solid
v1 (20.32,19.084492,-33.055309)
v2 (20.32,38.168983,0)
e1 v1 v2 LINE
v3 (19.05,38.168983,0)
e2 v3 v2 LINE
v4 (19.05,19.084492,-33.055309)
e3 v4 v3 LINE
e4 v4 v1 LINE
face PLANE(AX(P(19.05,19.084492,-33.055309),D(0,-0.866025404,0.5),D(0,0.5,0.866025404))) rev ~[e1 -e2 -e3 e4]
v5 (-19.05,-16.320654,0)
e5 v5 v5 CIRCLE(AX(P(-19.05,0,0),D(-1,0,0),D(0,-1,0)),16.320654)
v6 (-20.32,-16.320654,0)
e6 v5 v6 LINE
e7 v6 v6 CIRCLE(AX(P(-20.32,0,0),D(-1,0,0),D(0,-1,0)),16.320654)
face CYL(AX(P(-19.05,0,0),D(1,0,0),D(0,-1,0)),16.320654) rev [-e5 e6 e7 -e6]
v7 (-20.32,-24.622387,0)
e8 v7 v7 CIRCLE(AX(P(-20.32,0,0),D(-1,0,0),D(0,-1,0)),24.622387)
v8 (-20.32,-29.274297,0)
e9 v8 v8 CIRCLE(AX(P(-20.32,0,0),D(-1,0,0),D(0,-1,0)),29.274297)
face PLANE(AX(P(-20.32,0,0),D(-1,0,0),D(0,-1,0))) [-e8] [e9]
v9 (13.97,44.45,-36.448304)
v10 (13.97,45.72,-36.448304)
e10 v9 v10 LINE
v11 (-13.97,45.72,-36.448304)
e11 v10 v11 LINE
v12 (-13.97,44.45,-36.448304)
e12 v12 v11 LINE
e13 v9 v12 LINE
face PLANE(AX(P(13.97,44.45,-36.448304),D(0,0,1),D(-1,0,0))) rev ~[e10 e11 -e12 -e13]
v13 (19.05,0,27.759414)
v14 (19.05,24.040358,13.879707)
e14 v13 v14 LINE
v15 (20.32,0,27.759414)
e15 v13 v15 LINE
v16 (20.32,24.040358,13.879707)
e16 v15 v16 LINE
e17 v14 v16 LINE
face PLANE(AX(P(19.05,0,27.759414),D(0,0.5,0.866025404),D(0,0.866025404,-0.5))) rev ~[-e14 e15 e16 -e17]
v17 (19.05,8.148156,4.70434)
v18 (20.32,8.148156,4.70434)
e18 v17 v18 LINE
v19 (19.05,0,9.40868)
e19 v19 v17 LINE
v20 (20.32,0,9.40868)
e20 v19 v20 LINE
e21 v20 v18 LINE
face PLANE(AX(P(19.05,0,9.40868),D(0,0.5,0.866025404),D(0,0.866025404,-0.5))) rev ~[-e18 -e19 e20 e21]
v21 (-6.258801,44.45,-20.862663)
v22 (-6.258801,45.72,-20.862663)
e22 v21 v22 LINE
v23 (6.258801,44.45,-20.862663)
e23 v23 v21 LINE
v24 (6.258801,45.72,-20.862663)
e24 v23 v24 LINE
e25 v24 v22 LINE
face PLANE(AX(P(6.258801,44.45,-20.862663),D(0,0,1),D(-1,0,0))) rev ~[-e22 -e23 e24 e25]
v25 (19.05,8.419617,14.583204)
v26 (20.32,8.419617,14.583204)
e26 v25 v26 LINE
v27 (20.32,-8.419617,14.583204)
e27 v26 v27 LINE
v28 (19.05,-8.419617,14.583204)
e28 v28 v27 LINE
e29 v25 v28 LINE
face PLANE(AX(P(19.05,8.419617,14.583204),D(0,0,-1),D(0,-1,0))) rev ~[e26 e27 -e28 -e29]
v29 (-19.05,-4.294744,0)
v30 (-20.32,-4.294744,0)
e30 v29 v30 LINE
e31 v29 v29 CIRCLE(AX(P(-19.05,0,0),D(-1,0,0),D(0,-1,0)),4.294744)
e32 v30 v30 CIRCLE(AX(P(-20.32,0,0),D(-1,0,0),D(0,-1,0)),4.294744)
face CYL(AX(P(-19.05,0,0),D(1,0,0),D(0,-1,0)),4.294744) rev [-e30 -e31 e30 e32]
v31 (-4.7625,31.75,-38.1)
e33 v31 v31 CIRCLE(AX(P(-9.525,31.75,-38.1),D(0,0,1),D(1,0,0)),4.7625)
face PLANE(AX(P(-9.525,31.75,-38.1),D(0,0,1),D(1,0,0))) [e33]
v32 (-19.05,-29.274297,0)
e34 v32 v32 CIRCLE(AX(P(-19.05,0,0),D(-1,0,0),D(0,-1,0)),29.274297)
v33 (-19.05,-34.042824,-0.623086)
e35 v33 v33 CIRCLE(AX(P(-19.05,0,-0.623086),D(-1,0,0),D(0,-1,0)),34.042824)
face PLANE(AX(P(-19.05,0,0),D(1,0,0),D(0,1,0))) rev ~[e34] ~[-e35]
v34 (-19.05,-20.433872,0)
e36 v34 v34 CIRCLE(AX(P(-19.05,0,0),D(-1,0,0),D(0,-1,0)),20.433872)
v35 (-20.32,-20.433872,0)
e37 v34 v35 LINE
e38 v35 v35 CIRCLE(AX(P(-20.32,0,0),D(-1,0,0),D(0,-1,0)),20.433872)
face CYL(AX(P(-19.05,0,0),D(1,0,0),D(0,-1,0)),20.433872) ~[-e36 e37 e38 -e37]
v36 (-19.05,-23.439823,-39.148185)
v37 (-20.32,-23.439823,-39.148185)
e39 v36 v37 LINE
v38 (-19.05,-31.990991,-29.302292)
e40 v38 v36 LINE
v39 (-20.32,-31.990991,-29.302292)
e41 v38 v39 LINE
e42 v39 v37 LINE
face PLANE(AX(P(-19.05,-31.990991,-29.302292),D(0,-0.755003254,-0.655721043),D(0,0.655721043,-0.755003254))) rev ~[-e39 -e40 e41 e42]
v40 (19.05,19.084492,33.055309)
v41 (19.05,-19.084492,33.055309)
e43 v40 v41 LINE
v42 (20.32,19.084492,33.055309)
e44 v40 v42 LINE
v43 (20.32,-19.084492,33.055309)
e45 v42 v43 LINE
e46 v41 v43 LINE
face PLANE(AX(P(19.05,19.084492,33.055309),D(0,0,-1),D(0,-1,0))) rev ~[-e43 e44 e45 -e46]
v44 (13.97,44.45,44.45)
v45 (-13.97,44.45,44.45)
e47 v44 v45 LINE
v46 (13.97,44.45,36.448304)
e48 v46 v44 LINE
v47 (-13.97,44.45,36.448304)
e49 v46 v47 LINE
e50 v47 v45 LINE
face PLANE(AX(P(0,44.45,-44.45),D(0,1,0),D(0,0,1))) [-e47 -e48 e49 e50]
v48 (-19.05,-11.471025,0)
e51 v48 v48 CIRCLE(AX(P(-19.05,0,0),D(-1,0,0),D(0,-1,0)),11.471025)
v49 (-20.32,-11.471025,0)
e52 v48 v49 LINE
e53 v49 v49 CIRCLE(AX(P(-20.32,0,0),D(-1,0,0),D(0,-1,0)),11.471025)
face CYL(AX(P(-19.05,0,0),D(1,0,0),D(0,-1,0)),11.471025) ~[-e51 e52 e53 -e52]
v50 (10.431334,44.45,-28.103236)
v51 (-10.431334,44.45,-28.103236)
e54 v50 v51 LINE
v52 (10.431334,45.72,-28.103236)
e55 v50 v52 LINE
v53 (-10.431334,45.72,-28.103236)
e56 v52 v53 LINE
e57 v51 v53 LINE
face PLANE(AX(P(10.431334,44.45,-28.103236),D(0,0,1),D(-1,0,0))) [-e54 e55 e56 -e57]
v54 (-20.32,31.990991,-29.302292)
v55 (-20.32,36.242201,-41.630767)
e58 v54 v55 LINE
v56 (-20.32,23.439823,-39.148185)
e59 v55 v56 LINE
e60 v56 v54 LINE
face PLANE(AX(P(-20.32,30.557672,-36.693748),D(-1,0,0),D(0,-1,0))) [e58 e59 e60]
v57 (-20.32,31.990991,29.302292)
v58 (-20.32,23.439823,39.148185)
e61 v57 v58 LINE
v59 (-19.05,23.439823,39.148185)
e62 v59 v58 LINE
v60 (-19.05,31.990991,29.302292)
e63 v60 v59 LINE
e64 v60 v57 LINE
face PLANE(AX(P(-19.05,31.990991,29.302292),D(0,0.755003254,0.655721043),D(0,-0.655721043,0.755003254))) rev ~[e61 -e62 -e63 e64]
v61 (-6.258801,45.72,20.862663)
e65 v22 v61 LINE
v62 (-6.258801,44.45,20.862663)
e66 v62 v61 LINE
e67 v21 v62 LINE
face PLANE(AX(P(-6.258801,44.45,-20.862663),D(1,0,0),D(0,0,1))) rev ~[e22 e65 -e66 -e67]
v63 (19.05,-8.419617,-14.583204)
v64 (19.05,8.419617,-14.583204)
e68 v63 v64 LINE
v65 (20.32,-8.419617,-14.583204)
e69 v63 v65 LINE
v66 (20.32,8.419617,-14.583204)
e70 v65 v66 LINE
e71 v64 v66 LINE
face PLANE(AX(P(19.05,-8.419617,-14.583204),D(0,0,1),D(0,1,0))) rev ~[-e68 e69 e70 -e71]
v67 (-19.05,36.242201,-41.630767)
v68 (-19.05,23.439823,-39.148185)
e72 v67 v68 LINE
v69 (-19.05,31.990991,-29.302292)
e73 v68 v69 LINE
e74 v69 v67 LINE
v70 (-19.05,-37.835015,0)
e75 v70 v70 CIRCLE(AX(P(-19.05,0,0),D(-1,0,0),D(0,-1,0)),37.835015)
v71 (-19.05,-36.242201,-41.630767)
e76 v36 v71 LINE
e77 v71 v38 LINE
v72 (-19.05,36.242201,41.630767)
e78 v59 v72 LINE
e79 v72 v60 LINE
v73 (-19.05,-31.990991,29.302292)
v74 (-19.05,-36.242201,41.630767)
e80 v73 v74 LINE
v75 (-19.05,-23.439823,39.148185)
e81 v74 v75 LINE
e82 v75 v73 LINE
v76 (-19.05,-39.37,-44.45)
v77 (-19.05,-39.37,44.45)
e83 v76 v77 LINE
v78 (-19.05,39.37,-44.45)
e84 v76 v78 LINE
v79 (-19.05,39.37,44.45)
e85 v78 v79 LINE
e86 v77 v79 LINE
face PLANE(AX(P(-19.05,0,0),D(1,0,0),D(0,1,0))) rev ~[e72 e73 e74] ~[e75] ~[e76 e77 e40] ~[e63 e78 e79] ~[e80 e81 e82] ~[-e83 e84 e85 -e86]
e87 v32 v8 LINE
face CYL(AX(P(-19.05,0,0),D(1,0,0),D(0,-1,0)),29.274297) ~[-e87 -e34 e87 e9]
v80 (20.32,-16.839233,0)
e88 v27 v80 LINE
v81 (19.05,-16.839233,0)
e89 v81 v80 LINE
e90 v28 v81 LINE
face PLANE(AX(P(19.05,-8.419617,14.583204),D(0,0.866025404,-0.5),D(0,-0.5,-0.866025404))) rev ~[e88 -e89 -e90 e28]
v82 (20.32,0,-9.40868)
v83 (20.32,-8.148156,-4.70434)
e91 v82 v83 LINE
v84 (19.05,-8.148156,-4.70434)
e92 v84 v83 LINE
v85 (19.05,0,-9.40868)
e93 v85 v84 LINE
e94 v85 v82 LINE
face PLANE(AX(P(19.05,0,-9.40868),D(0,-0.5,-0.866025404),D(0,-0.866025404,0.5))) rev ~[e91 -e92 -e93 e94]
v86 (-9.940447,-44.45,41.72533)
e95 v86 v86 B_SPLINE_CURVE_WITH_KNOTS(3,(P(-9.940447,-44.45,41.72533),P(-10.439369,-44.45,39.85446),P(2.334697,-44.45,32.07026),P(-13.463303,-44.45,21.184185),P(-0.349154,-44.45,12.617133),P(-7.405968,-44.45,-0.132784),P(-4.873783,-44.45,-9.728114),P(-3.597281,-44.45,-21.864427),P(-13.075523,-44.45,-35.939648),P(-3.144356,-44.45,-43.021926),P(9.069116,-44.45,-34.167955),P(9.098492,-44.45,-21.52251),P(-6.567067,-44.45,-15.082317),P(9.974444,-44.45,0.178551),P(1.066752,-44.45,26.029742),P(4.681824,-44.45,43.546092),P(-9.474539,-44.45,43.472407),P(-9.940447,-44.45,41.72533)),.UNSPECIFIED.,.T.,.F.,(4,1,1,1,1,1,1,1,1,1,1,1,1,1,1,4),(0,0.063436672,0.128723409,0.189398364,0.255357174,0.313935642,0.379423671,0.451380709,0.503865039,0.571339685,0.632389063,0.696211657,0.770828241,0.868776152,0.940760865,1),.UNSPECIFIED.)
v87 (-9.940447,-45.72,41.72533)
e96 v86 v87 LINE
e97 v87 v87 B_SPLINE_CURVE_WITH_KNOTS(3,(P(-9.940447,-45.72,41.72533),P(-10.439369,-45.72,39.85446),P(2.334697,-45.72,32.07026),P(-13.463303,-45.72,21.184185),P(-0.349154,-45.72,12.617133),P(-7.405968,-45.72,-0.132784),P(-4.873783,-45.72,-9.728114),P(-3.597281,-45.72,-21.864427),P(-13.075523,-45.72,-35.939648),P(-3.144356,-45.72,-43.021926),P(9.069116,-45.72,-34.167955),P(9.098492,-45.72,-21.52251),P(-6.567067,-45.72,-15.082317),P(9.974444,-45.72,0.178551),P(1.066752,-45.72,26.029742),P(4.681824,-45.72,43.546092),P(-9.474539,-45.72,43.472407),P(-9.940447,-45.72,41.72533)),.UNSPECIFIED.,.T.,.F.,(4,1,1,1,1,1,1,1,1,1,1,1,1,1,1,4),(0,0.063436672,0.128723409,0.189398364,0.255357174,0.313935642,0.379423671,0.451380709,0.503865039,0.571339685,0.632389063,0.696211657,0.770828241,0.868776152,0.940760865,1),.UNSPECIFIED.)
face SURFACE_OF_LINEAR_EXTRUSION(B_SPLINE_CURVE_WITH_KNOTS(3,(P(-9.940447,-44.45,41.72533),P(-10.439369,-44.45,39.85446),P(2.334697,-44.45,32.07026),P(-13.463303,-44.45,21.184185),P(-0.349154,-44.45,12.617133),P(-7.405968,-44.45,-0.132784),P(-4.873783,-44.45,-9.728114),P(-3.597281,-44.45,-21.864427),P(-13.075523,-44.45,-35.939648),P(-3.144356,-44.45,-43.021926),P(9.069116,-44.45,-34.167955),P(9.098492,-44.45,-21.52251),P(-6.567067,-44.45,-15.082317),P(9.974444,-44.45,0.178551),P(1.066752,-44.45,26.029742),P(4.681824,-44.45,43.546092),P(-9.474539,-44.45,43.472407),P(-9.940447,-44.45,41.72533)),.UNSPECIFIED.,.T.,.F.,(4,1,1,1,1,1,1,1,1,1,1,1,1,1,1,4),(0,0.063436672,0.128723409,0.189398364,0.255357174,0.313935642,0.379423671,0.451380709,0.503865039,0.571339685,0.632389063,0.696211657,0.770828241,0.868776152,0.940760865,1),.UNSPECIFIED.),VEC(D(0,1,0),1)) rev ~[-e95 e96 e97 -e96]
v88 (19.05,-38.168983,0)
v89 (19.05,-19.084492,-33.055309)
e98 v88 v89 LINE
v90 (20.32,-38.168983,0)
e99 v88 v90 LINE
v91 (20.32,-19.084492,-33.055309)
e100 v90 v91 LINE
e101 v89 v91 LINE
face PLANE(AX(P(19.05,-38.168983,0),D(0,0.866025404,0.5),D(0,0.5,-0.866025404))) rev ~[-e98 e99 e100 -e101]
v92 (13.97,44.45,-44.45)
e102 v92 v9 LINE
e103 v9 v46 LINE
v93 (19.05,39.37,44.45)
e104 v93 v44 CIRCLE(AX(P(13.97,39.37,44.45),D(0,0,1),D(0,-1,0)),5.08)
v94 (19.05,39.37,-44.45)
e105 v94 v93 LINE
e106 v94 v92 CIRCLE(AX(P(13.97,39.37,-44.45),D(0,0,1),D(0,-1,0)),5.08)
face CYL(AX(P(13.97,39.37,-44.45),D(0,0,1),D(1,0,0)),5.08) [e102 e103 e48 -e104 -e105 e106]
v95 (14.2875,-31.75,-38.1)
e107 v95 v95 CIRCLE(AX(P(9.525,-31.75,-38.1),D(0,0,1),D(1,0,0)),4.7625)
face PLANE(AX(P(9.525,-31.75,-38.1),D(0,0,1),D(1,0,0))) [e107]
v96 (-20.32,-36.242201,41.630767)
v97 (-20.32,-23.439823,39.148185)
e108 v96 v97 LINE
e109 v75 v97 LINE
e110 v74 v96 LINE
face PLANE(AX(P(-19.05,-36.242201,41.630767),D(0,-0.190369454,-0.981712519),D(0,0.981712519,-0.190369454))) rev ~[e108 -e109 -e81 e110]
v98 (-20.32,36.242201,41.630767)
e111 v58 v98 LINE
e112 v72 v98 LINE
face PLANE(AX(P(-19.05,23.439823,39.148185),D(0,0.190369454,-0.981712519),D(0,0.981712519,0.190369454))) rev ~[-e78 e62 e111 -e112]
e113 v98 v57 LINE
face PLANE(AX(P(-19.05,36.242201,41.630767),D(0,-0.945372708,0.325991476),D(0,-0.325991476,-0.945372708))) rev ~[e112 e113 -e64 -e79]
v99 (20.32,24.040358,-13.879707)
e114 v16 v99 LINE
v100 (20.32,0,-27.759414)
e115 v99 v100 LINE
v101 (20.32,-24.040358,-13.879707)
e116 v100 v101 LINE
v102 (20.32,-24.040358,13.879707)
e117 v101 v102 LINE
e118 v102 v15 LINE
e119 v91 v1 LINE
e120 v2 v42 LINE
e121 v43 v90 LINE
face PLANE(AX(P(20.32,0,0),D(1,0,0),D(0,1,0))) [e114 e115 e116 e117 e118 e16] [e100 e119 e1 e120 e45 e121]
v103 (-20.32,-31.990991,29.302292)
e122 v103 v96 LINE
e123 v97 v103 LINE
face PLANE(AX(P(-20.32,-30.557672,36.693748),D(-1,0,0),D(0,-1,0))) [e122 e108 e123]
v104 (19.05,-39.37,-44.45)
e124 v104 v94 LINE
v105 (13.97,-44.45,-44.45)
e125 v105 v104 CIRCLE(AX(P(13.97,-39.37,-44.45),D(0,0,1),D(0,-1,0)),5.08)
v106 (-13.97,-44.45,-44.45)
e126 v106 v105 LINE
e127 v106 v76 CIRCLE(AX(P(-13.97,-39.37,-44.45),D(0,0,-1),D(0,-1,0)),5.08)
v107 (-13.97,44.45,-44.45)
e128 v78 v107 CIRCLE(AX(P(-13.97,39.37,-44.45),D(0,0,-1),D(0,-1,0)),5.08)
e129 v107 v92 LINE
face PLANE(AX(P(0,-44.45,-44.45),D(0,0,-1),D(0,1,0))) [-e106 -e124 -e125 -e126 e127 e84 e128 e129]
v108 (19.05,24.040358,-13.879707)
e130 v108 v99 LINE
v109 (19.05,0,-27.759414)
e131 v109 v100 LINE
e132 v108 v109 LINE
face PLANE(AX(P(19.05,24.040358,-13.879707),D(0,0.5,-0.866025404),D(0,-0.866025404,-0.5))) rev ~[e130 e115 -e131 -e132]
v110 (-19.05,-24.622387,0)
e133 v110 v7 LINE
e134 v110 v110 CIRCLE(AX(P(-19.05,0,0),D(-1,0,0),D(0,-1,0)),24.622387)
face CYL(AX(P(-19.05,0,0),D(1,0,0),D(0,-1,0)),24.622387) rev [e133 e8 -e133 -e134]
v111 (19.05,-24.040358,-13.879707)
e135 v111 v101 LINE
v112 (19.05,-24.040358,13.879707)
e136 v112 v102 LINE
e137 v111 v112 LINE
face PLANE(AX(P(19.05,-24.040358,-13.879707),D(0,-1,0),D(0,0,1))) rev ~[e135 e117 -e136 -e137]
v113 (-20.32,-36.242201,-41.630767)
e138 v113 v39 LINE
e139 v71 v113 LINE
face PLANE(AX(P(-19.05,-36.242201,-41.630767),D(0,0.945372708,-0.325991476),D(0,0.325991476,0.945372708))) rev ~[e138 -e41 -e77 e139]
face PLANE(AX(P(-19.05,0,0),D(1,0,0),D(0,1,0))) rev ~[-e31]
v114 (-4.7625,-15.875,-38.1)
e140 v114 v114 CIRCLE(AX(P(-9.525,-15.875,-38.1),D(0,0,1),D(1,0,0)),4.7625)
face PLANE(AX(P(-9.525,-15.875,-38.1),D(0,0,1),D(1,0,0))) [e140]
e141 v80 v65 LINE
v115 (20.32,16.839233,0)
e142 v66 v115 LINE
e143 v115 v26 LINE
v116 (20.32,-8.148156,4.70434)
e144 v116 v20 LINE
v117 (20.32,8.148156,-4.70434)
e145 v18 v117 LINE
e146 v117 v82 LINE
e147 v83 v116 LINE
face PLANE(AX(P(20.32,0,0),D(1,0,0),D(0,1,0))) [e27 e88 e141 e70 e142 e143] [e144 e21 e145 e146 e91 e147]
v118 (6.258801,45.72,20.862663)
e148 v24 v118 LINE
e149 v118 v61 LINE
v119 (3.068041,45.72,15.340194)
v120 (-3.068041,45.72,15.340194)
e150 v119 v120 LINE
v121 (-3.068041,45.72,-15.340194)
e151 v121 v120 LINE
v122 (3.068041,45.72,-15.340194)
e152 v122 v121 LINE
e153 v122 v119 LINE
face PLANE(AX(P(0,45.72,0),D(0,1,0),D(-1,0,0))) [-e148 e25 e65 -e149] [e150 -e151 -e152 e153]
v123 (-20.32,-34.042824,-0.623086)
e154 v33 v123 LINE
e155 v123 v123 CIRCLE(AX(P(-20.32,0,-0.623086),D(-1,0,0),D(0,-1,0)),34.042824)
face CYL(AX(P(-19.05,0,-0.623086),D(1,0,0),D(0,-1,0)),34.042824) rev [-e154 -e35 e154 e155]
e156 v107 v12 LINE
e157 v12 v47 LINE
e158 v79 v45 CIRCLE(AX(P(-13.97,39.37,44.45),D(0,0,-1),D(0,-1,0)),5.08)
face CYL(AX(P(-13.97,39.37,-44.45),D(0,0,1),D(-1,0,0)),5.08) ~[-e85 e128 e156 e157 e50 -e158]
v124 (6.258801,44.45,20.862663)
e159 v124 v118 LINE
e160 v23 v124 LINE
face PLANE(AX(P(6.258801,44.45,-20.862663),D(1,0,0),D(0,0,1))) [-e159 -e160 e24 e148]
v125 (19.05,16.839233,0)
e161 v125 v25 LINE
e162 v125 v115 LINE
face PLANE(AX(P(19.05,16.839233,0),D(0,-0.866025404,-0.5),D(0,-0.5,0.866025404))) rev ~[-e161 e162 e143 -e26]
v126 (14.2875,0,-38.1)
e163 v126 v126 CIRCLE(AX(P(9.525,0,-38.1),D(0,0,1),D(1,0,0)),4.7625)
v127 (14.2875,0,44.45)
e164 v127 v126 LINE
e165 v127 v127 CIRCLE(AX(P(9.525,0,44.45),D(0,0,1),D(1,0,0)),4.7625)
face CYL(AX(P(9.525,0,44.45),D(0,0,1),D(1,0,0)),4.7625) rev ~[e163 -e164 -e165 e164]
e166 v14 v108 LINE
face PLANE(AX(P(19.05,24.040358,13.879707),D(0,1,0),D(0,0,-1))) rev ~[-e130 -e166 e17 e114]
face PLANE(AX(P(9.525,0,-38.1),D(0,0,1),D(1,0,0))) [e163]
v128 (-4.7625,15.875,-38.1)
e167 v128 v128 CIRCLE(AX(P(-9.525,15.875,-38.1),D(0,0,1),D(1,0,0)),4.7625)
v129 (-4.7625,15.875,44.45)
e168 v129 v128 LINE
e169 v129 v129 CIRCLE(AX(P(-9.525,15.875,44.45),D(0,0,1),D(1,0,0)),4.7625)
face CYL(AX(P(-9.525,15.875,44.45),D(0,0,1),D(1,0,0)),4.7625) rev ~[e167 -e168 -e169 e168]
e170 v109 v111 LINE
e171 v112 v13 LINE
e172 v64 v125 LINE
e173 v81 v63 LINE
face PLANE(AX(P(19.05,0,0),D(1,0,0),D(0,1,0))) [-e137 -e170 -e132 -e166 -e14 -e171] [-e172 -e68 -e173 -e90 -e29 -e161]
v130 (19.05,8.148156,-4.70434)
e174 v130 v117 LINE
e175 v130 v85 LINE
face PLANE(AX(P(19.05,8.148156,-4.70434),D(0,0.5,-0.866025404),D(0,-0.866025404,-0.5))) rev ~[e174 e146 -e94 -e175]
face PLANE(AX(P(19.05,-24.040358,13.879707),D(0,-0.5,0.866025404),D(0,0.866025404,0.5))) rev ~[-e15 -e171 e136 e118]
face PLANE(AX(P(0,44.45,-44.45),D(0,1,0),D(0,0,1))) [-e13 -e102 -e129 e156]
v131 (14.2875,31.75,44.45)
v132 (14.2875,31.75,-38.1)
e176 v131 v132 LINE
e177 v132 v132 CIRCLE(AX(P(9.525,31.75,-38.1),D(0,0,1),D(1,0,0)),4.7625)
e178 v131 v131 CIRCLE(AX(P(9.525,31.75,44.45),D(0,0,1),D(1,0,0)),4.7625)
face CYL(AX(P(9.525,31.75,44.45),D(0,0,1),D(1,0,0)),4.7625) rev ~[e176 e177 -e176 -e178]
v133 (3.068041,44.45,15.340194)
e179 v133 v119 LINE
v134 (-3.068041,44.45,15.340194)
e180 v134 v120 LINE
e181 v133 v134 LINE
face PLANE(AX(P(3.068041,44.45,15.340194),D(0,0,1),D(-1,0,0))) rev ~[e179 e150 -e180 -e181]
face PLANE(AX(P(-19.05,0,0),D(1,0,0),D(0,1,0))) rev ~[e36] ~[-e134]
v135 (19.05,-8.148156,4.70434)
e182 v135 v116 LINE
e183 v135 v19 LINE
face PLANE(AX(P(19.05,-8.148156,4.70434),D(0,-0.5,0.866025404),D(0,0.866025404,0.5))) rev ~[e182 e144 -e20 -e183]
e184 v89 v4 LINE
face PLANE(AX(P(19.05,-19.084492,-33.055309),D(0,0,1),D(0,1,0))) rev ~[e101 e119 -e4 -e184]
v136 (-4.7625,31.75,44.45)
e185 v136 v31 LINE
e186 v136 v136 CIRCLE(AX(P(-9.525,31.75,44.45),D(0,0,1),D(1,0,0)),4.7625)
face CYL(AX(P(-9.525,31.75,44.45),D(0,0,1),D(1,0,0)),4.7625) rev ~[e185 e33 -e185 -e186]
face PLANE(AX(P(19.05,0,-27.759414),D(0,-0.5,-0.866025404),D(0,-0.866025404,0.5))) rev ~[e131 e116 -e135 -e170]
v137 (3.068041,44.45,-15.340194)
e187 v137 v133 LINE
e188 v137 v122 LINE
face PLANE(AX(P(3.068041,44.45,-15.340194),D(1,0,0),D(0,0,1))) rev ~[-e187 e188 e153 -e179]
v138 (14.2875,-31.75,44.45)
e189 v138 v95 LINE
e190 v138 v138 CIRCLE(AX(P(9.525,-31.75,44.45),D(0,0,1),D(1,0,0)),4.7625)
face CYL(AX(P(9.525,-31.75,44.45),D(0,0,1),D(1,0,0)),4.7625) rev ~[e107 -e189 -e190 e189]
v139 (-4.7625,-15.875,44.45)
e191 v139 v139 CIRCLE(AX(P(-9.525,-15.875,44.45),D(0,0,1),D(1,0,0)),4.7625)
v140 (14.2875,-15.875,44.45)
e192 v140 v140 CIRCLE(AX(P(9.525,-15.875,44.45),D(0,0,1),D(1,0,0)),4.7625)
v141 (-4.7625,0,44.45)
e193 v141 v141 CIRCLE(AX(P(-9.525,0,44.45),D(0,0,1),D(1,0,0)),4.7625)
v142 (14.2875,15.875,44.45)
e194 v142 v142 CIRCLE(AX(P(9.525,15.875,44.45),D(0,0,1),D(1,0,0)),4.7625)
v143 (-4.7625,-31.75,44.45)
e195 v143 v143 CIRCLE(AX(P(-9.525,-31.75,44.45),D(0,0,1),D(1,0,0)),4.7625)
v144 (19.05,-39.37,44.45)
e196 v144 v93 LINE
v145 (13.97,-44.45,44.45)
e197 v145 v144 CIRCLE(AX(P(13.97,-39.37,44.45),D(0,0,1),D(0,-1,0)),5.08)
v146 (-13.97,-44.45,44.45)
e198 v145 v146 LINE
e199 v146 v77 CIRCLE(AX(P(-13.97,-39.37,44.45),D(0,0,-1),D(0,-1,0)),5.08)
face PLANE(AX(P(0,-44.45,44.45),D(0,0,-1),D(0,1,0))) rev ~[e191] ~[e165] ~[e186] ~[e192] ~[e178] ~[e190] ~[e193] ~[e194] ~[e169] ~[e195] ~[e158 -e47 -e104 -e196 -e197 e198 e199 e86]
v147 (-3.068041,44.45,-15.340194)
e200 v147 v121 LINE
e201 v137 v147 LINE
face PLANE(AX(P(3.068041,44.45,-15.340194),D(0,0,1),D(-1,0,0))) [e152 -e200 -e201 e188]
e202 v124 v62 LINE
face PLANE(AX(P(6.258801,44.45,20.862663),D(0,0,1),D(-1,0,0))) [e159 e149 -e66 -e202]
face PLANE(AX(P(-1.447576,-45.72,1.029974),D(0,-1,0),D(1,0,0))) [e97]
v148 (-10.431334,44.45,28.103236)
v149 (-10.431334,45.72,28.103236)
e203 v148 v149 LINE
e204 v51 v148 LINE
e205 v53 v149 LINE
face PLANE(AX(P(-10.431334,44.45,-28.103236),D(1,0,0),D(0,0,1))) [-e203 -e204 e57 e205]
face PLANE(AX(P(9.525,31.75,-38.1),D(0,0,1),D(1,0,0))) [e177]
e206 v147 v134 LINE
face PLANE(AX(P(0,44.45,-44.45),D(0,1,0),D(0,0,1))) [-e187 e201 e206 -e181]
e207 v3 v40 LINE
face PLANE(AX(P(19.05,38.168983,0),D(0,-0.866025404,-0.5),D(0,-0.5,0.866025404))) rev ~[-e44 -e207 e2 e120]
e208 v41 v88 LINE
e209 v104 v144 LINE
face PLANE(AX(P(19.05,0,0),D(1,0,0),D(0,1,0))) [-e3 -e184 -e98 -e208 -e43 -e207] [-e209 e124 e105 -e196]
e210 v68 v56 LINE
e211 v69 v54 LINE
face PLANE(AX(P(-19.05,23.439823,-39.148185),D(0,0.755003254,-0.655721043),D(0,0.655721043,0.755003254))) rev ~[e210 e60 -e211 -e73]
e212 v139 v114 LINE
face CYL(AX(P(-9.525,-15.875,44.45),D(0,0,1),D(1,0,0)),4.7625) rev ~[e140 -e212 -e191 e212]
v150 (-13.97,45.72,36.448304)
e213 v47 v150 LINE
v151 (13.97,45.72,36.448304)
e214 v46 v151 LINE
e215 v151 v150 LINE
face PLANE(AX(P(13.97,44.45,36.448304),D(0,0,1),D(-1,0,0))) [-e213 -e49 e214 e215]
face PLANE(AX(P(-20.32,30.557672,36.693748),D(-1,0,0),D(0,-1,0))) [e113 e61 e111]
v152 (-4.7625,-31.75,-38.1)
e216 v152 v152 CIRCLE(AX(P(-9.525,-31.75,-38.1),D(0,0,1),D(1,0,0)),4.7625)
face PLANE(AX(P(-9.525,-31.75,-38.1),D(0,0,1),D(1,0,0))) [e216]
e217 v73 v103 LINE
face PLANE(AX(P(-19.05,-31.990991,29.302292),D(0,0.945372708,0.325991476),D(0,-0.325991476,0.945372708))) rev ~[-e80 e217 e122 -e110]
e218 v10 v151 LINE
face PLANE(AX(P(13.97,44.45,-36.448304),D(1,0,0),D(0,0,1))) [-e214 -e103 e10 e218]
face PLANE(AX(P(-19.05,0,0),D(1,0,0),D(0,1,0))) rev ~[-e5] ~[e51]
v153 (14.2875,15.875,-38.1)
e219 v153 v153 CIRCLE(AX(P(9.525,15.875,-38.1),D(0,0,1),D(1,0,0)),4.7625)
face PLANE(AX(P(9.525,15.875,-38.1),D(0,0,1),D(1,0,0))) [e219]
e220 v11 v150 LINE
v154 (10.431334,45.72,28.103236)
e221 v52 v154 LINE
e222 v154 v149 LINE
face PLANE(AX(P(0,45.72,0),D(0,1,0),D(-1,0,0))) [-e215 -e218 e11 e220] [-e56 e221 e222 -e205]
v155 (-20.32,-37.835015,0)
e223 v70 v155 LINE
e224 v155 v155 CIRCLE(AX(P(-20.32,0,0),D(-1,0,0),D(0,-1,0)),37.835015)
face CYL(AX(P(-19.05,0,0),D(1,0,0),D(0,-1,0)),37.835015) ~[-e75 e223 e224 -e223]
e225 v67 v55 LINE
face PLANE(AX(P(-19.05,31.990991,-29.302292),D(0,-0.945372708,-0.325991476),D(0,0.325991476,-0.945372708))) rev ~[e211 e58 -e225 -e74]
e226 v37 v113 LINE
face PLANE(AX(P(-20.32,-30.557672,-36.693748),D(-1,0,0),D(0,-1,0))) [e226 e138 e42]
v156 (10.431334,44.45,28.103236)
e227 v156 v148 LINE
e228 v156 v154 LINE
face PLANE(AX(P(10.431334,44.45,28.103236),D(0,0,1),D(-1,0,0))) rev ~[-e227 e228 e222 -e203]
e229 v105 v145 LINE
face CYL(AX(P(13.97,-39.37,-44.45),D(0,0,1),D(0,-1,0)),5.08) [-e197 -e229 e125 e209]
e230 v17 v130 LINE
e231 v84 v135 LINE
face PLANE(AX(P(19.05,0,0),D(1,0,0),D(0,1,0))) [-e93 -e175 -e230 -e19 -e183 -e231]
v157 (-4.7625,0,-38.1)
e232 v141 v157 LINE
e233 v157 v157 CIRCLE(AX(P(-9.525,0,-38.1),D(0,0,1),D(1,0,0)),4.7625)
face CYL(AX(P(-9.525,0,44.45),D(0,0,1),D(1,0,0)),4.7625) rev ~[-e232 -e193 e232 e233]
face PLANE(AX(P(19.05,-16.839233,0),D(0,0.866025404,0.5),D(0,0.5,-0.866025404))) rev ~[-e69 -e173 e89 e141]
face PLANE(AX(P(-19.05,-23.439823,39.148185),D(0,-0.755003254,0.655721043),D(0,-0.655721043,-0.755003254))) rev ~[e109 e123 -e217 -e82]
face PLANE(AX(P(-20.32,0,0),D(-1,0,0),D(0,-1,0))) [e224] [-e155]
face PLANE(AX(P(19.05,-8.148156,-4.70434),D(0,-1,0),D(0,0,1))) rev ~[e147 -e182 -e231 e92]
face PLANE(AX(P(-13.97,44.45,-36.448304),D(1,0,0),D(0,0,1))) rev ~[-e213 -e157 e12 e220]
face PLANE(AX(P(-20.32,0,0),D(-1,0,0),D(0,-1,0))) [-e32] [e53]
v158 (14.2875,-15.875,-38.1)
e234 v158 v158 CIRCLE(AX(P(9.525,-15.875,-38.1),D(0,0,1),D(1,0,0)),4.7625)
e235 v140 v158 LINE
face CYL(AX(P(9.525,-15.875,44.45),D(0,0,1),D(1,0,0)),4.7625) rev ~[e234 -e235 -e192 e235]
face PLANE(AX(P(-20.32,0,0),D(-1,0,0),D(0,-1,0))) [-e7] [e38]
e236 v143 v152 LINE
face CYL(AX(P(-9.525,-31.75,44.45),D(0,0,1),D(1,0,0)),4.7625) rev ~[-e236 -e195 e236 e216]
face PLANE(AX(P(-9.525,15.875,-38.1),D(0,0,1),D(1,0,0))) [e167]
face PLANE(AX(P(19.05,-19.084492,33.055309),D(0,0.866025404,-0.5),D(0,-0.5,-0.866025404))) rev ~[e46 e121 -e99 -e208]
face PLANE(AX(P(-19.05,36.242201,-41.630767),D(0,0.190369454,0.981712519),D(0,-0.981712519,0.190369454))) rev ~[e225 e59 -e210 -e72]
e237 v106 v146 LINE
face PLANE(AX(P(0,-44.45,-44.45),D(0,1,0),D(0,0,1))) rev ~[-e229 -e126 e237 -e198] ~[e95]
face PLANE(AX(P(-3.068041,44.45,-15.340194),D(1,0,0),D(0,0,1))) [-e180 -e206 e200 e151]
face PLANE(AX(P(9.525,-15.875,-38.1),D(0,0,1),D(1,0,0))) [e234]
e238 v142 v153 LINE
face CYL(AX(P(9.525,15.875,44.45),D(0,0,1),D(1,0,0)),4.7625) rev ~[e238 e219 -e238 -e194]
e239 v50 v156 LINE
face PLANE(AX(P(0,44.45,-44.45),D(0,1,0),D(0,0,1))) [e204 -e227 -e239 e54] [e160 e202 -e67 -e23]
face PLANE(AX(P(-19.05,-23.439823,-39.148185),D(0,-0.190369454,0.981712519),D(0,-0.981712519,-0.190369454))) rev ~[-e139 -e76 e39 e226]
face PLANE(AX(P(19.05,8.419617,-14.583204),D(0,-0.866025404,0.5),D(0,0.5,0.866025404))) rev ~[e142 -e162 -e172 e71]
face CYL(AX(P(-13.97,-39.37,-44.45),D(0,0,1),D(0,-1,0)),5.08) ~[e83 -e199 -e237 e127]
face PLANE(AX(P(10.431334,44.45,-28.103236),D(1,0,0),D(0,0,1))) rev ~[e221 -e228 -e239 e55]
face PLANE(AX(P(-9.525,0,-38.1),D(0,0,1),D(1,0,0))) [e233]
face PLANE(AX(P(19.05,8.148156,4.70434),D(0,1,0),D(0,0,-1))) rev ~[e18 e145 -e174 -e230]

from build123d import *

# Parameters (mm, degrees)
F0_W      = 88.9
F0_H      = 88.9
F1_DEPTH  = 19.05
F2_R      = 4.7625
F3_DEPTH  = 82.55
F4_R      = 5.08
F6_DEPTH  = 1.27
F7_R      = 37.8350149357
F7_R_2    = 34.0428240735
F7_R_3    = 29.2742972445
F7_R_4    = 24.6223872017
F7_R_5    = 20.4338722206
F7_R_6    = 16.3206542749
F7_R_7    = 11.4710246767
F7_R_8    = 4.2947443434
F8_DEPTH  = 1.27
F10_DEPTH = 1.27
F11_W     = 27.94
F11_H     = 72.8966072202
F11_W_2   = 20.8626687527
F11_H_2   = 56.206472218
F11_W_3   = 12.5176021829
F11_H_3   = 41.7253263295
F11_W_4   = 6.1360821128
F11_H_4   = 30.6803882122
F12_DEPTH = 1.27
F14_DEPTH = 1.27


with BuildPart() as f1:
    # F0 (on Right) → F1 (new body, symmetric)
    with BuildSketch(Plane.YZ):
        Rectangle(F0_W, F0_H)
    extrude(amount=F1_DEPTH, both=True)

    # F2 (on face) → F3 (cut)
    with BuildSketch(Plane.XY.offset(44.45)):
        with Locations((-9.525, -31.75)):
            Circle(F2_R)
        with Locations((-9.525, 0)):
            Circle(F2_R)
        with Locations((-9.525, -15.875)):
            Circle(F2_R)
        with Locations((-9.525, 15.875)):
            Circle(F2_R)
        with Locations((-9.525, 31.75)):
            Circle(F2_R)
        with Locations((9.525, 0)):
            Circle(F2_R)
        with Locations((9.525, -31.75)):
            Circle(F2_R)
        with Locations((9.525, -15.875)):
            Circle(F2_R)
        with Locations((9.525, 15.875)):
            Circle(F2_R)
        with Locations((9.525, 31.75)):
            Circle(F2_R)
    extrude(amount=-F3_DEPTH, mode=Mode.SUBTRACT)

    # F4
    f4_edges = [f1.edges().sort_by_distance(p)[0] for p in [
        (19.05, -44.45, 0),
        (19.05, 44.45, 0),
        (-19.05, 44.45, 0),
        (-19.05, -44.45, 0),
    ]]
    fillet(f4_edges, radius=F4_R)

    # F5 (on face) → F6 (join)
    with BuildSketch(Plane.YZ.offset(19.05)):
        Polygon((-19.0844916684, -33.0553092062), (19.0844916684, -33.0553092062), (38.1689833367, 0), (19.0844916684, 33.0553092062), (-19.0844916684, 33.0553092062), (-38.1689833367, 0), align=None)
        Polygon((0, -27.7594144883), (-24.0403581411, -13.8797072442), (-24.0403581411, 13.8797072442), (0, 27.7594144883), (24.0403581411, 13.8797072442), (24.0403581411, -13.8797072442), align=None, mode=Mode.SUBTRACT)
        Polygon((-8.4196167213, -14.5832039416), (8.4196167213, -14.5832039416), (16.8392334426, 0), (8.4196167213, 14.5832039416), (-8.4196167213, 14.5832039416), (-16.8392334426, 0), align=None)
        Polygon((0, -9.4086802429), (-8.1481561065, -4.7043401215), (-8.1481561065, 4.7043401215), (0, 9.4086802429), (8.1481561065, 4.7043401215), (8.1481561065, -4.7043401215), align=None, mode=Mode.SUBTRACT)
    extrude(amount=F6_DEPTH)

    # F7 (on face) → F8 (join)
    with BuildSketch(Plane(origin=(-19.05, 0, 0), x_dir=(0, -1, 0), z_dir=(-1, 0, 0))):
        Circle(F7_R)
        with Locations((0, -0.6230861181)):
            Circle(F7_R_2, mode=Mode.SUBTRACT)
        Circle(F7_R_3)
        Circle(F7_R_4, mode=Mode.SUBTRACT)
        Circle(F7_R_5)
        Circle(F7_R_6, mode=Mode.SUBTRACT)
        Circle(F7_R_7)
        Circle(F7_R_8, mode=Mode.SUBTRACT)
    extrude(amount=F8_DEPTH)

    # F9 (on face) → F10 (join)
    with BuildSketch(Plane(origin=(-19.05, 0, 0), x_dir=(0, -1, 0), z_dir=(-1, 0, 0))):
        Polygon((-23.4398227185, 39.1481854022), (-36.2422010507, 41.6307673476), (-31.9909909163, 29.3022915103), align=None)
        Polygon((31.9909909163, 29.3022915103), (36.2422010507, 41.6307673476), (23.4398227185, 39.1481854022), align=None)
        Polygon((31.9909909163, -29.3022915103), (23.4398227185, -39.1481854022), (36.2422010507, -41.6307673476), align=None)
        Polygon((-31.9909909163, -29.3022915103), (-36.2422010507, -41.6307673476), (-23.4398227185, -39.1481854022), align=None)
    extrude(amount=F10_DEPTH)

    # F11 (on face) → F12 (join)
    with BuildSketch(Plane(origin=(0, 44.45, 0), x_dir=(-1, 0, 0), z_dir=(0, 1, 0))):
        Rectangle(F11_W, F11_H)
        Rectangle(F11_W_2, F11_H_2, mode=Mode.SUBTRACT)
        Rectangle(F11_W_3, F11_H_3)
        Rectangle(F11_W_4, F11_H_4, mode=Mode.SUBTRACT)
    extrude(amount=F12_DEPTH)

    # F13 (on face) → F14 (join)
    with BuildSketch(Plane.XZ.offset(44.45)):
        with BuildLine():
            add(Edge.make_bspline(
                [(-9.9404472858, 41.7253300548), (-10.4393687317, 39.8544595144), (2.3346966823, 32.0702597616), (-13.4633031993, 21.1841853724), (-0.3491542327, 12.6171329779), (-7.4059680461, -0.1327843033), (-4.8737832549, -9.7281138777), (-3.5972809771, -21.8644273007), (-13.0755227687, -35.9396479129), (-3.1443557011, -43.0219255628), (9.0691160086, -34.1679552684), (9.0984922379, -21.5225097323), (-6.5670666967, -15.0823173953), (9.9744444963, 0.1785511815), (1.0667515938, 26.0297424967), (4.6818241025, 43.5460924), (-9.4745389427, 43.4724070763), (-9.9404472858, 41.7253300548)],
                knots=[0, 0, 0, 0, 0.0634366723, 0.1287234087, 0.1893983636, 0.2553571738, 0.3139356417, 0.3794236714, 0.4513807089, 0.5038650388, 0.5713396846, 0.6323890632, 0.696211657, 0.7708282411, 0.8687761518, 0.9407608651, 1, 1, 1, 1], degree=3))
        make_face()
    extrude(amount=F14_DEPTH)


solid = f1.part
